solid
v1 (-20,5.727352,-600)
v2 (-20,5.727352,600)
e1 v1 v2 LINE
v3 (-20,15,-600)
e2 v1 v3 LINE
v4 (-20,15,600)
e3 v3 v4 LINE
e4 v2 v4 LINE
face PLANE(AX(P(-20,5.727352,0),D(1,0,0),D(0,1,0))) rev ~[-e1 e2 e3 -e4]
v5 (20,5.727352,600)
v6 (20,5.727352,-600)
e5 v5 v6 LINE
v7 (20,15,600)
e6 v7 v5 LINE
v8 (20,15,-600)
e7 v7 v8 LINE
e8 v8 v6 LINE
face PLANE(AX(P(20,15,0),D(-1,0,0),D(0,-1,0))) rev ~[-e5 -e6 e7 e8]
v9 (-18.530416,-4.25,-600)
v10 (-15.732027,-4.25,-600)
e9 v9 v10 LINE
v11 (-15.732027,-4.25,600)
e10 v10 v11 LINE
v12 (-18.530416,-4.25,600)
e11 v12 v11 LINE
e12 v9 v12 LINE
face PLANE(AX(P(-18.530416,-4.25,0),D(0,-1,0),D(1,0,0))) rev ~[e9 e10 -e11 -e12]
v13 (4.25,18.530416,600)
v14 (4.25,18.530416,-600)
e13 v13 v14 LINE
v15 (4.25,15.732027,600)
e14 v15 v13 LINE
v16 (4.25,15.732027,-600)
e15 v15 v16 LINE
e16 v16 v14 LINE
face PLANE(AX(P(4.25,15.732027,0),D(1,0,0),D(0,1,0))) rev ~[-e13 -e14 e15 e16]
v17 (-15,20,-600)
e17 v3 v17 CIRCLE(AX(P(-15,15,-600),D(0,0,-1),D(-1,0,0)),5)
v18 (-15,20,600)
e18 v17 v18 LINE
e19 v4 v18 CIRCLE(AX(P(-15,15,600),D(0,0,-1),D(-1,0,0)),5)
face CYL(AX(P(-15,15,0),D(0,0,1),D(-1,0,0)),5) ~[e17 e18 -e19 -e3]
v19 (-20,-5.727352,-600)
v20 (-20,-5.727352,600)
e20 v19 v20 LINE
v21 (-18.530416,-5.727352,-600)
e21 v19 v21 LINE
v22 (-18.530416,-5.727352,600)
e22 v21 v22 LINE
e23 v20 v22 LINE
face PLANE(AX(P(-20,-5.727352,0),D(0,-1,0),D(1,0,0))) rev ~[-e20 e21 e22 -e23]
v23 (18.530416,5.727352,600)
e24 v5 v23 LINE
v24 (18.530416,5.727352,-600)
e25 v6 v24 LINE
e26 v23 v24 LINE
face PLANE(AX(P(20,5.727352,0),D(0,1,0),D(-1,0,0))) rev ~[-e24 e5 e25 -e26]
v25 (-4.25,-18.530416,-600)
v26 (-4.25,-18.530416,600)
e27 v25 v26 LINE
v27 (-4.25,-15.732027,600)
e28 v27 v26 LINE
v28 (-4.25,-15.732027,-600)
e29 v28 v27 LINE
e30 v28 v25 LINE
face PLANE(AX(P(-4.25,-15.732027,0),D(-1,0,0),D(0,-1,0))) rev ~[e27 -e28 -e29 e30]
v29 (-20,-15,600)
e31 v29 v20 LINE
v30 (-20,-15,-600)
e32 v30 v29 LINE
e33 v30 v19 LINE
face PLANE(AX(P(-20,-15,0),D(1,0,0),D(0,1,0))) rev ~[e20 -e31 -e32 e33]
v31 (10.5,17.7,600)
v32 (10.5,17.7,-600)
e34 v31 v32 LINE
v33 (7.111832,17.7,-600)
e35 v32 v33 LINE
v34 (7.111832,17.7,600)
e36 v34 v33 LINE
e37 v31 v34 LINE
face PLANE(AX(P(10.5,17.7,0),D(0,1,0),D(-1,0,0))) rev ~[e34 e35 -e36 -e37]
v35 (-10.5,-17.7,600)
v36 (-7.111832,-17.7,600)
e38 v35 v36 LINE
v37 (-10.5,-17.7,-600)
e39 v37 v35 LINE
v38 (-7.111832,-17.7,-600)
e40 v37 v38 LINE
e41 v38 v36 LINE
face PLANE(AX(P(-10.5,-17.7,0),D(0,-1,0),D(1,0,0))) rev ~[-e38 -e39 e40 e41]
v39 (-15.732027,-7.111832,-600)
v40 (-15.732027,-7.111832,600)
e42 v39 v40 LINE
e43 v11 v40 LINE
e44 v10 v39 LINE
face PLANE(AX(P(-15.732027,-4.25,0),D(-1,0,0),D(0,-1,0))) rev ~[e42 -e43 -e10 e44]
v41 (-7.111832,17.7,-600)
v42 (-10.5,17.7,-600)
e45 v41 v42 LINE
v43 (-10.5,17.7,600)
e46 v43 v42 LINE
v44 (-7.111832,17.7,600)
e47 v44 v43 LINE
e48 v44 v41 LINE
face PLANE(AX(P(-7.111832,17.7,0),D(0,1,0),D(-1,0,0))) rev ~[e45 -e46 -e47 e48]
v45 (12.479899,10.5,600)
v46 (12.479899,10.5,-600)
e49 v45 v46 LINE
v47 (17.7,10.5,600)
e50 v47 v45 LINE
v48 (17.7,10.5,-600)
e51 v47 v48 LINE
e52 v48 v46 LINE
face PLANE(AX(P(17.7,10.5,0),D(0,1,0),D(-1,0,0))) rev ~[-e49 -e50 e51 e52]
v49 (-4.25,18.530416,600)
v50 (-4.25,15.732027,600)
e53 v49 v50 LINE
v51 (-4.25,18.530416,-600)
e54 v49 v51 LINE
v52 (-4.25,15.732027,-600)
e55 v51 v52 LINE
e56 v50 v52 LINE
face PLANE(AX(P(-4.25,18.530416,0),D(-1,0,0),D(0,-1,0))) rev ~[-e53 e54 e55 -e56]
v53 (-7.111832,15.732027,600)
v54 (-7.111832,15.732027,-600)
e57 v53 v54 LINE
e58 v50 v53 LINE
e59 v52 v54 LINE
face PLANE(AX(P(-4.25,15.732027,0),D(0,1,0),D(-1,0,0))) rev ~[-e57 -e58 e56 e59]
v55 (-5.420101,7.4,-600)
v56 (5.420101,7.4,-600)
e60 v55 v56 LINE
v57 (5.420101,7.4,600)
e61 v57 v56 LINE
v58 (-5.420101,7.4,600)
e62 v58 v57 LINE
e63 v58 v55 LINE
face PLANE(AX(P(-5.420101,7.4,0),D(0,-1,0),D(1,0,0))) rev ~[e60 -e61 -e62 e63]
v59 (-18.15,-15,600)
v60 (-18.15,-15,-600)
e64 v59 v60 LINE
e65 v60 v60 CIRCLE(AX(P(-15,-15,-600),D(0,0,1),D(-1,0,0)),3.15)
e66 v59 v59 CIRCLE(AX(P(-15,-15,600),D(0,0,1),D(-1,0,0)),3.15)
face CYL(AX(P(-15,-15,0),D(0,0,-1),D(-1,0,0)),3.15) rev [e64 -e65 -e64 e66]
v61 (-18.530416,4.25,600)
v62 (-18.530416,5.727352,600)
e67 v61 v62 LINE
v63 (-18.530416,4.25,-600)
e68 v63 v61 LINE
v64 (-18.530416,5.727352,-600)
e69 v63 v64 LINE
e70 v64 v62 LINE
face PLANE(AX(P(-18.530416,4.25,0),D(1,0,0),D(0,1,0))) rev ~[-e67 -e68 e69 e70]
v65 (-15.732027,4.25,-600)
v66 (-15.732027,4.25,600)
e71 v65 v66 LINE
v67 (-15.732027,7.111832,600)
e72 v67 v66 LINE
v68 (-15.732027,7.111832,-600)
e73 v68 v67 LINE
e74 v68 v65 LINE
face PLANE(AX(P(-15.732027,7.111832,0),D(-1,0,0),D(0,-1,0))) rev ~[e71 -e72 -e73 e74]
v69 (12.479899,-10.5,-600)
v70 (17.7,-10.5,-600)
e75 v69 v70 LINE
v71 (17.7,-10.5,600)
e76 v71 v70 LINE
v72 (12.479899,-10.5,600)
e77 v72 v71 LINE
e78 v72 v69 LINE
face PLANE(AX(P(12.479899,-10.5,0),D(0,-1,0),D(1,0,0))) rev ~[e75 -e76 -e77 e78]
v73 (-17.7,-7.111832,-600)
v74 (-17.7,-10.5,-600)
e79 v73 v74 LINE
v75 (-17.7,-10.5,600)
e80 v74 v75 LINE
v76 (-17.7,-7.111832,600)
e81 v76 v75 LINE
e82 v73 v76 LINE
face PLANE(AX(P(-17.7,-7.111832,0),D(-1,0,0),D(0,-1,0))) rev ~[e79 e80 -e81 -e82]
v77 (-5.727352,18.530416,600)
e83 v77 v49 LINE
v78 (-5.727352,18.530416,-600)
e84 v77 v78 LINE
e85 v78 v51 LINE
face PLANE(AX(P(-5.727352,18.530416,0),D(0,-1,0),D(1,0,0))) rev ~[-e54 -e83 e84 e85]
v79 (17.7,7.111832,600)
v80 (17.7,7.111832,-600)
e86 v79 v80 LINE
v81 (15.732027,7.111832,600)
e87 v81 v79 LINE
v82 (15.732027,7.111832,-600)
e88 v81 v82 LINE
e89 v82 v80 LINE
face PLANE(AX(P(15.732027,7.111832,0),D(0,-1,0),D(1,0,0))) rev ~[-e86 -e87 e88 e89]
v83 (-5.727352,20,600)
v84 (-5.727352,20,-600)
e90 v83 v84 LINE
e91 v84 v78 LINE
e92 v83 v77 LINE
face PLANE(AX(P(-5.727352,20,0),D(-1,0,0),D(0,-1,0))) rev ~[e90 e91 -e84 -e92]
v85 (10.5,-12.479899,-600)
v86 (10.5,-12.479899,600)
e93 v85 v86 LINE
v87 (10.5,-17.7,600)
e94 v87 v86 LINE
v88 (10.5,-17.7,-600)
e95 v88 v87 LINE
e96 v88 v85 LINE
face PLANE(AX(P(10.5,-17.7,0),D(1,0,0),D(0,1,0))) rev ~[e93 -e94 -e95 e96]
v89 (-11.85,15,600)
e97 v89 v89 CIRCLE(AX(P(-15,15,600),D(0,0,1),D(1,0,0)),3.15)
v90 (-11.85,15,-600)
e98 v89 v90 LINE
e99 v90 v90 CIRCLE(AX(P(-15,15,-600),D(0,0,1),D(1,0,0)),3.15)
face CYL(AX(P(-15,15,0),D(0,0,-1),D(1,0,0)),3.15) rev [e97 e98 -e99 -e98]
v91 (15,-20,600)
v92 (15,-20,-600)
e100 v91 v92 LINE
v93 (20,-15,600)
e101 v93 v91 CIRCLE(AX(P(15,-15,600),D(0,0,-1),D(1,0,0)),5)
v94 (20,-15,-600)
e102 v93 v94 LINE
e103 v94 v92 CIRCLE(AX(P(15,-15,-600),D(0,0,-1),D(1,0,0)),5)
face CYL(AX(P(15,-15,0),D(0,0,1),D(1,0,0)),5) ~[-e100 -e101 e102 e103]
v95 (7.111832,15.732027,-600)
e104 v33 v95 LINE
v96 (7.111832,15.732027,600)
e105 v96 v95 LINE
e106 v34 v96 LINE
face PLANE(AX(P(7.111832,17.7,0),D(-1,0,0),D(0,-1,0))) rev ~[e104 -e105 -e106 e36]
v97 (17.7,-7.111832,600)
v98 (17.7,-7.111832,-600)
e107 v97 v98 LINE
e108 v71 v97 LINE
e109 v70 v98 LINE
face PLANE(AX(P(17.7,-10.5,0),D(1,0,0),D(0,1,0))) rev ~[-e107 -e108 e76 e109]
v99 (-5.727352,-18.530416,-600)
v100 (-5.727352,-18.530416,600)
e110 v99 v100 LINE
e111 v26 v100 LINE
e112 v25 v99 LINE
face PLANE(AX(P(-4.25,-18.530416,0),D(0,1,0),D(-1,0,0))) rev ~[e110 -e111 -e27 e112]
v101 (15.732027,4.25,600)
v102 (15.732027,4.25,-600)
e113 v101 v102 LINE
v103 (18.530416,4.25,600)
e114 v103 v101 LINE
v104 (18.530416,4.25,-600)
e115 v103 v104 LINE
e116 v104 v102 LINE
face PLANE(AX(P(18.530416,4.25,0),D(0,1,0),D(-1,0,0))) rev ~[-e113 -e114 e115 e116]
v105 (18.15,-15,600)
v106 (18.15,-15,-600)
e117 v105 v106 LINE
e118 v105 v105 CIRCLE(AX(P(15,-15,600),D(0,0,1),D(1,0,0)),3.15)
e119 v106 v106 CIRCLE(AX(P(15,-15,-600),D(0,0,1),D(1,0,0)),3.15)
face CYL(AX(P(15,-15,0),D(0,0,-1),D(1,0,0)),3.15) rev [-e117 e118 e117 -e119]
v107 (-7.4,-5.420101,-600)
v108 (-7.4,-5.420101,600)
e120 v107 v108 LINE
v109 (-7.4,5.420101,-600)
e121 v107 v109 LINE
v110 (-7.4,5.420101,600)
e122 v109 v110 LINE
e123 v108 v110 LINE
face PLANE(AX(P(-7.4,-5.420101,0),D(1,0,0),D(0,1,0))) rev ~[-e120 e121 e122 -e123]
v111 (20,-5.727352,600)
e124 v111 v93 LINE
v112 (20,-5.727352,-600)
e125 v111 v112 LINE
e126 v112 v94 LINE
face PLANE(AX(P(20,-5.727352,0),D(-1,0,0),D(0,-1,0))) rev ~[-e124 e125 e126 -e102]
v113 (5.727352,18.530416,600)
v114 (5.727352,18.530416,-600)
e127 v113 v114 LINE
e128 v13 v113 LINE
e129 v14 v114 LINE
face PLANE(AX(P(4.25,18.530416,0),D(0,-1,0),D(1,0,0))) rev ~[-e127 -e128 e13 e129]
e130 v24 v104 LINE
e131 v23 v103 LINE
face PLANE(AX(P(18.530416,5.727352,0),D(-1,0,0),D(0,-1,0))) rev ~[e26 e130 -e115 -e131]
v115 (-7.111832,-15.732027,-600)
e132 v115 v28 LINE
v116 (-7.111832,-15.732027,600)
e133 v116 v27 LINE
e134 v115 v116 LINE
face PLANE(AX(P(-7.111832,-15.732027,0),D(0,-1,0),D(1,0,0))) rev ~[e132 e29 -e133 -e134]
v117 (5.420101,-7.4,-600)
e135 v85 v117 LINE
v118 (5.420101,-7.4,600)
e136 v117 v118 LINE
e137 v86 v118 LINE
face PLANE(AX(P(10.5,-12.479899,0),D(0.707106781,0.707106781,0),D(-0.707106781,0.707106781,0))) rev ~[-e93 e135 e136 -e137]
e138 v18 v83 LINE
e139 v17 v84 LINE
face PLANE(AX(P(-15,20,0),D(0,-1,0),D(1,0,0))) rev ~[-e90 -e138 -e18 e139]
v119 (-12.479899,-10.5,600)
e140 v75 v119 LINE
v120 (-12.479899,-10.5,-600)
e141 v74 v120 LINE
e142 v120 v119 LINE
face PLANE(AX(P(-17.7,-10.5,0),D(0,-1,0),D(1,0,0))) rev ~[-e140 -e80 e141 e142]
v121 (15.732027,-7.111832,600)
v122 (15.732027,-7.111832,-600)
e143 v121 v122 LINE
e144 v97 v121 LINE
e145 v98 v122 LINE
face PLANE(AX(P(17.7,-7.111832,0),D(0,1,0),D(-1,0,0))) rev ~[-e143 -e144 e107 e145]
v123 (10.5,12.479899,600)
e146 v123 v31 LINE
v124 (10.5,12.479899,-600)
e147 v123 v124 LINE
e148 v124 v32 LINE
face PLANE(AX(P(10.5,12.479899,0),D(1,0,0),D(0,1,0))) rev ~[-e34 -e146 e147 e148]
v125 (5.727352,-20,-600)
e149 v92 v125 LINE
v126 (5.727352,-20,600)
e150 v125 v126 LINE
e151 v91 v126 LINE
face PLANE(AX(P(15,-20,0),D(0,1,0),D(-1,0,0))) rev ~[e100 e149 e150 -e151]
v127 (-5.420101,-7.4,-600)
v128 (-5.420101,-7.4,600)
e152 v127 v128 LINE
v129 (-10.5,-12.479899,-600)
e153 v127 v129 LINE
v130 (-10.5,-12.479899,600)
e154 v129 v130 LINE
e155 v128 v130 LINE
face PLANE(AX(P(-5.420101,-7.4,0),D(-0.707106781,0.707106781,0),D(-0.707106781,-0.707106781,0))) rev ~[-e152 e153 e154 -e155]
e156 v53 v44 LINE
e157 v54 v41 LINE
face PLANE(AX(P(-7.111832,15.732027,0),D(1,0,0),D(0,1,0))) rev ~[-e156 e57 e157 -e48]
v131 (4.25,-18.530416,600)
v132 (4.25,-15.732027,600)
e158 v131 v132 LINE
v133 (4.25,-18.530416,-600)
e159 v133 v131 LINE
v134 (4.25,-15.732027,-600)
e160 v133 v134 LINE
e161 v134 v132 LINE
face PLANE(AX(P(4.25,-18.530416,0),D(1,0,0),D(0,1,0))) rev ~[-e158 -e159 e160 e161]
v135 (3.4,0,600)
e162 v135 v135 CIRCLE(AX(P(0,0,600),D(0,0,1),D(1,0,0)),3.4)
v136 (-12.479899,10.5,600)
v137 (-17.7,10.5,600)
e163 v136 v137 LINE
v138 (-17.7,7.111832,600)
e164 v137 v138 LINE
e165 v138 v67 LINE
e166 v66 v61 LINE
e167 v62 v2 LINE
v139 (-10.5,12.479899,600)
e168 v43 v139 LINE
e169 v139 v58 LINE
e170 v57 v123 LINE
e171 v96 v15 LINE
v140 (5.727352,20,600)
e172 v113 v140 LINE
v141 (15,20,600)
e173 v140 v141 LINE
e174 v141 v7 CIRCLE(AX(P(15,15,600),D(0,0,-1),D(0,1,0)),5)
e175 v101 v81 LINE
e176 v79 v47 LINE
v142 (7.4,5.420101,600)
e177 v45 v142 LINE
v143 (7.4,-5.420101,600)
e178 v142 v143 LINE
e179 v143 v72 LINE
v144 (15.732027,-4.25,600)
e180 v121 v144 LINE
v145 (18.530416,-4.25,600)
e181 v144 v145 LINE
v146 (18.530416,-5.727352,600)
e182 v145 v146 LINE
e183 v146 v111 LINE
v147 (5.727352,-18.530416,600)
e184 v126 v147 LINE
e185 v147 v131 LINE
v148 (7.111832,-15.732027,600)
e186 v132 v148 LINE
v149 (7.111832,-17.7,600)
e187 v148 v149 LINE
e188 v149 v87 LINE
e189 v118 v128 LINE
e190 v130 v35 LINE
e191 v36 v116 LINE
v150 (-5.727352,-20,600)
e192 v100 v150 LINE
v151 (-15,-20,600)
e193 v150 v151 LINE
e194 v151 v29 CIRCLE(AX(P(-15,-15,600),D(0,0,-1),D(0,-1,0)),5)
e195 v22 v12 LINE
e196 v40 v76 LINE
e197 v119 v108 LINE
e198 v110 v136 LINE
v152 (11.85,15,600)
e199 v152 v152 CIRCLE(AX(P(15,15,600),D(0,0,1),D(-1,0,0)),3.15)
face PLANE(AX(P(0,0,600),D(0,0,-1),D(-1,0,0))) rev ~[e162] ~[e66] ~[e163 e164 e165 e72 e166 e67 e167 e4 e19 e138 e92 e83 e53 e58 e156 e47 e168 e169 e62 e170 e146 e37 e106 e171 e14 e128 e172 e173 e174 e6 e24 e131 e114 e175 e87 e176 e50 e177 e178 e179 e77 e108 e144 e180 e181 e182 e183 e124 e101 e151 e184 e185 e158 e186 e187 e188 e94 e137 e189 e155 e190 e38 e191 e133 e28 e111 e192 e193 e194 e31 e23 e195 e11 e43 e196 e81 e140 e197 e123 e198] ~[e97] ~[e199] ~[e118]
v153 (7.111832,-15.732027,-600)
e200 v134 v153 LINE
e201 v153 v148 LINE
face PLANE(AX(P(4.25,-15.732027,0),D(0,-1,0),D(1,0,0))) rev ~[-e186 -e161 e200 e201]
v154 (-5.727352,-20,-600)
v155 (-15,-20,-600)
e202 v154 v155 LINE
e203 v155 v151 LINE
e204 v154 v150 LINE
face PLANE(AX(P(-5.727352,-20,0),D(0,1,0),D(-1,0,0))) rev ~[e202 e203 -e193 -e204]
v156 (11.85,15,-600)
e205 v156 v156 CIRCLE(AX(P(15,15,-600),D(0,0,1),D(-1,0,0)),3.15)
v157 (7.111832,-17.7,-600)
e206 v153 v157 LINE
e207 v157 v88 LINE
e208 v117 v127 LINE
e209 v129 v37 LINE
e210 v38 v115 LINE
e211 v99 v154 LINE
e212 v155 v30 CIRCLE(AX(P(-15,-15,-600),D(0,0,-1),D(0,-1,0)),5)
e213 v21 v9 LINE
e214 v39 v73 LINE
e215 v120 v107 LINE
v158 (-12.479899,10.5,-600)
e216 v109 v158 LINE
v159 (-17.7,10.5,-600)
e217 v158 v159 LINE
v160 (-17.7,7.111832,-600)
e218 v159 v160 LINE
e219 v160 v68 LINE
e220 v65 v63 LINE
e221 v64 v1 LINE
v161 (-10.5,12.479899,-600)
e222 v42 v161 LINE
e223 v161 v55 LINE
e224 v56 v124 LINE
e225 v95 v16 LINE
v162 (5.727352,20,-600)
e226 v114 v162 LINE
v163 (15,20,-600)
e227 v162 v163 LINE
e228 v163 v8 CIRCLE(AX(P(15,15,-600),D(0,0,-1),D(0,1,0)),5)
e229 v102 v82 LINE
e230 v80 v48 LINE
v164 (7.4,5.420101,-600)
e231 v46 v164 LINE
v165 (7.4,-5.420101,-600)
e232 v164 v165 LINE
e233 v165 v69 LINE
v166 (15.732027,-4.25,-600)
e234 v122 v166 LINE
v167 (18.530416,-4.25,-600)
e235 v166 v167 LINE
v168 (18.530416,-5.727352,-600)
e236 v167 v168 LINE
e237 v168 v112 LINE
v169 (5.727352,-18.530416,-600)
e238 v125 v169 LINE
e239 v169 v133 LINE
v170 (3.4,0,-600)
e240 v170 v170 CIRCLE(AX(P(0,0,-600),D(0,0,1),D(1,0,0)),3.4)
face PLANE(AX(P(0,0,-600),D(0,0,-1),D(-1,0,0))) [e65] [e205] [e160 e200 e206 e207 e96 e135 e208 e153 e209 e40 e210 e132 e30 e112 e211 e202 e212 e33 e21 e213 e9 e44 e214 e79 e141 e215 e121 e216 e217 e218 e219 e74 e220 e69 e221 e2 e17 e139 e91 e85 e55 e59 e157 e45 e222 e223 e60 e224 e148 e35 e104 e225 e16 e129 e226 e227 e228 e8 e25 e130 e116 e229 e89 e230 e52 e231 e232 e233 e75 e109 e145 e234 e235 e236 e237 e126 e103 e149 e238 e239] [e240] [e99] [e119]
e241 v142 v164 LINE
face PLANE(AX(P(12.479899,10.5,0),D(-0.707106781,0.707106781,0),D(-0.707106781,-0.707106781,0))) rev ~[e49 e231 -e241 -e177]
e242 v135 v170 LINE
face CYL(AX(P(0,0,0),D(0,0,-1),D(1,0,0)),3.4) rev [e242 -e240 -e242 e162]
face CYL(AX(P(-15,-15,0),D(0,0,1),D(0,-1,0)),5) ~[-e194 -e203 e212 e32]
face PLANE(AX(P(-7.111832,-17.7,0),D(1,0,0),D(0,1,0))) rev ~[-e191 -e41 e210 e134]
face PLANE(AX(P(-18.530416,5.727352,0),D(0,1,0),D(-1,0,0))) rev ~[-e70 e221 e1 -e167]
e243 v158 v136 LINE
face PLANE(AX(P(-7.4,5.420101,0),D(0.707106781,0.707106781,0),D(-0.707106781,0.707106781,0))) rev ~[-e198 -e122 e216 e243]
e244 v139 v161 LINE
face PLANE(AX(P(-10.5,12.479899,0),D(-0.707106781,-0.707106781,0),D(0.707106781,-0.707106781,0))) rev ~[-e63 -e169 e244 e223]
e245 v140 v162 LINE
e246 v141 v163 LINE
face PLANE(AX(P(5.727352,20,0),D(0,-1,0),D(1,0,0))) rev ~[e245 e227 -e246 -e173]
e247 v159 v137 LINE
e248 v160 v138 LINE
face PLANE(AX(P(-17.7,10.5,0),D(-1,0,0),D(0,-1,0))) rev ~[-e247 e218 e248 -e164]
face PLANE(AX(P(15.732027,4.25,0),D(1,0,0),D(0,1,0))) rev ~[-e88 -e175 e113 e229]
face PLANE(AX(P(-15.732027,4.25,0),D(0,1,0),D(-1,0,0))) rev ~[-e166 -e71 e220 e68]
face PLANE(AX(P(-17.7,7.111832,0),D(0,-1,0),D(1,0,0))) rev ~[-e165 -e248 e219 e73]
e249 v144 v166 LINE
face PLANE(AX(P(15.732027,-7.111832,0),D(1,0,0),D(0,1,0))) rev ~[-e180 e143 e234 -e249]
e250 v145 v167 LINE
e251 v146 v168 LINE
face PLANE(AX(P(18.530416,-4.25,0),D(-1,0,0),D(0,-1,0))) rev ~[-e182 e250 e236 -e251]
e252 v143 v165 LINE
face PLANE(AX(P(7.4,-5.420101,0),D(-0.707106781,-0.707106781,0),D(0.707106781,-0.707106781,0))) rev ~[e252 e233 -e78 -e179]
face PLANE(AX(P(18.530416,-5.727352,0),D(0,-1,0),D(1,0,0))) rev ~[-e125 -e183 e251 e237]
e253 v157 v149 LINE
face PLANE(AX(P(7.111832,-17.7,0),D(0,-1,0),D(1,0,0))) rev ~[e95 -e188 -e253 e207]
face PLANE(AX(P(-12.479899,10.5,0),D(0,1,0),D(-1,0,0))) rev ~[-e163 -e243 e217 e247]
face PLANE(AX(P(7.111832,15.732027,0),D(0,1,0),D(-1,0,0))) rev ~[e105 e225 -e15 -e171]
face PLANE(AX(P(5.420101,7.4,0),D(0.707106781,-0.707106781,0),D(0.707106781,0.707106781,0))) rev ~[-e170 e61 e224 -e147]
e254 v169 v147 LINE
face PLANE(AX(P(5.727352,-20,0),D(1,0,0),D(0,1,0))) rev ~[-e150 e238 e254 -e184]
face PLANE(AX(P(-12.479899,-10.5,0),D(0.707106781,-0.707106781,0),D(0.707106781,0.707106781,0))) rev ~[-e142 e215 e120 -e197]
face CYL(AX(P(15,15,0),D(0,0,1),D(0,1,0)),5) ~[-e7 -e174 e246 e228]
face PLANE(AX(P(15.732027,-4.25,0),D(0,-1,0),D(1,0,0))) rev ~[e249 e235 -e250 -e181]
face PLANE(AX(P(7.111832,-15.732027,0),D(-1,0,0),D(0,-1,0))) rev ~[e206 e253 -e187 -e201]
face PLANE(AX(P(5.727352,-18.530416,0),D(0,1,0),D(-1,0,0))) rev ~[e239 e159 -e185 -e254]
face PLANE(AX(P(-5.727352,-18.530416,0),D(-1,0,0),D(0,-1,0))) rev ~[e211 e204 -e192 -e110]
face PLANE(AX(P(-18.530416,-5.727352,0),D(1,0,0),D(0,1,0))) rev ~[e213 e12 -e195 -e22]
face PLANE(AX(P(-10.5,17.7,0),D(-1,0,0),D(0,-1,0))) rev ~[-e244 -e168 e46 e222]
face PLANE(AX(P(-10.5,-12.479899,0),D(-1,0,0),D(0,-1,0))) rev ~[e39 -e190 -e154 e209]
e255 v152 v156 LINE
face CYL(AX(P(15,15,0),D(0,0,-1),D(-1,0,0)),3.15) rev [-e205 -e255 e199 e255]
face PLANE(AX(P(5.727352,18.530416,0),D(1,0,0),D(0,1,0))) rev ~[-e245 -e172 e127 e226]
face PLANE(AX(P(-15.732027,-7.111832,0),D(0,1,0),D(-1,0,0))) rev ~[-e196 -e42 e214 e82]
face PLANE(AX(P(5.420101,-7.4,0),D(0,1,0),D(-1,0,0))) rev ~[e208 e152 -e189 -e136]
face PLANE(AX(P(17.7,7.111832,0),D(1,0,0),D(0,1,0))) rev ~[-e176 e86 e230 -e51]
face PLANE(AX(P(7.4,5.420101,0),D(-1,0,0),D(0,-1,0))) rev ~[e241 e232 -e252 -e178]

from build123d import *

# Parameters (mm, degrees)
SKETCH_1_R      = 3.4
SKETCH_1_R_2    = 3.15
EXTRUDE_1_DEPTH = 600


with BuildPart() as part:
    # Эскиз1 → Бобышка-Вытянуть1 (new, symmetric)
    with BuildSketch(Plane.XY):
        with BuildLine():
            Line((-15, 20), (-5.727351849, 20))
            Line((-5.727351849, 20), (-5.727351849, 18.530416438))
            Line((-5.727351849, 18.530416438), (-4.25, 18.530416438))
            Line((-4.25, 18.530416438), (-4.25, 15.732027397))
            Line((-4.25, 15.732027397), (-7.111831817, 15.732027397))
            Line((-7.111831817, 15.732027397), (-7.111831817, 17.7))
            Line((-7.111831817, 17.7), (-10.5, 17.7))
            Line((-10.5, 17.7), (-10.5, 12.479898987))
            Line((-10.5, 12.479898987), (-5.420101013, 7.4))
            Line((-5.420101013, 7.4), (5.420101013, 7.4))
            Line((5.420101013, 7.4), (10.5, 12.479898987))
            Line((10.5, 12.479898987), (10.5, 17.7))
            Line((10.5, 17.7), (7.111831817, 17.7))
            Line((7.111831817, 17.7), (7.111831817, 15.732027397))
            Line((7.111831817, 15.732027397), (4.25, 15.732027397))
            Line((4.25, 15.732027397), (4.25, 18.530416438))
            Line((4.25, 18.530416438), (5.727351849, 18.530416438))
            Line((5.727351849, 18.530416438), (5.727351849, 20))
            Line((5.727351849, 20), (15, 20))
            ThreePointArc((15, 20), (18.535533906, 18.535533906), (20, 15))
            Line((20, 15), (20, 5.727351849))
            Line((20, 5.727351849), (18.530416438, 5.727351849))
            Line((18.530416438, 5.727351849), (18.530416438, 4.25))
            Line((18.530416438, 4.25), (15.732027397, 4.25))
            Line((15.732027397, 4.25), (15.732027397, 7.111831817))
            Line((15.732027397, 7.111831817), (17.7, 7.111831817))
            Line((17.7, 7.111831817), (17.7, 10.5))
            Line((17.7, 10.5), (12.479898987, 10.5))
            Line((12.479898987, 10.5), (7.4, 5.420101013))
            Line((7.4, 5.420101013), (7.4, -5.420101013))
            Line((7.4, -5.420101013), (12.479898987, -10.5))
            Line((12.479898987, -10.5), (17.7, -10.5))
            Line((17.7, -10.5), (17.7, -7.111831817))
            Line((17.7, -7.111831817), (15.732027397, -7.111831817))
            Line((15.732027397, -7.111831817), (15.732027397, -4.25))
            Line((15.732027397, -4.25), (18.530416438, -4.25))
            Line((18.530416438, -4.25), (18.530416438, -5.727351849))
            Line((18.530416438, -5.727351849), (20, -5.727351849))
            Line((20, -5.727351849), (20, -15))
            ThreePointArc((20, -15), (18.535533906, -18.535533906), (15, -20))
            Line((15, -20), (5.727351849, -20))
            Line((5.727351849, -20), (5.727351849, -18.530416438))
            Line((5.727351849, -18.530416438), (4.25, -18.530416438))
            Line((4.25, -18.530416438), (4.25, -15.732027397))
            Line((4.25, -15.732027397), (7.111831817, -15.732027397))
            Line((7.111831817, -15.732027397), (7.111831817, -17.7))
            Line((7.111831817, -17.7), (10.5, -17.7))
            Line((10.5, -17.7), (10.5, -12.479898987))
            Line((10.5, -12.479898987), (5.420101013, -7.4))
            Line((5.420101013, -7.4), (-5.420101013, -7.4))
            Line((-5.420101013, -7.4), (-10.5, -12.479898987))
            Line((-10.5, -12.479898987), (-10.5, -17.7))
            Line((-10.5, -17.7), (-7.111831817, -17.7))
            Line((-7.111831817, -17.7), (-7.111831817, -15.732027397))
            Line((-7.111831817, -15.732027397), (-4.25, -15.732027397))
            Line((-4.25, -15.732027397), (-4.25, -18.530416438))
            Line((-4.25, -18.530416438), (-5.727351849, -18.530416438))
            Line((-5.727351849, -18.530416438), (-5.727351849, -20))
            Line((-5.727351849, -20), (-15, -20))
            ThreePointArc((-15, -20), (-18.535533906, -18.535533906), (-20, -15))
            Line((-20, -15), (-20, -5.727351849))
            Line((-20, -5.727351849), (-18.530416438, -5.727351849))
            Line((-18.530416438, -5.727351849), (-18.530416438, -4.25))
            Line((-18.530416438, -4.25), (-15.732027397, -4.25))
            Line((-15.732027397, -4.25), (-15.732027397, -7.111831817))
            Line((-15.732027397, -7.111831817), (-17.7, -7.111831817))
            Line((-17.7, -7.111831817), (-17.7, -10.5))
            Line((-17.7, -10.5), (-12.479898987, -10.5))
            Line((-12.479898987, -10.5), (-7.4, -5.420101013))
            Line((-7.4, -5.420101013), (-7.4, 5.420101013))
            Line((-7.4, 5.420101013), (-12.479898987, 10.5))
            Line((-12.479898987, 10.5), (-17.7, 10.5))
            Line((-17.7, 10.5), (-17.7, 7.111831817))
            Line((-17.7, 7.111831817), (-15.732027397, 7.111831817))
            Line((-15.732027397, 7.111831817), (-15.732027397, 4.25))
            Line((-15.732027397, 4.25), (-18.530416438, 4.25))
            Line((-18.530416438, 4.25), (-18.530416438, 5.727351849))
            Line((-18.530416438, 5.727351849), (-20, 5.727351849))
            Line((-20, 5.727351849), (-20, 15))
            ThreePointArc((-20, 15), (-18.535533906, 18.535533906), (-15, 20))
        make_face()
        Circle(SKETCH_1_R, mode=Mode.SUBTRACT)
        with Locations((-15, 15)):
            Circle(SKETCH_1_R_2, mode=Mode.SUBTRACT)
        with Locations((15, 15)):
            Circle(SKETCH_1_R_2, mode=Mode.SUBTRACT)
        with Locations((15, -15)):
            Circle(SKETCH_1_R_2, mode=Mode.SUBTRACT)
        with Locations((-15, -15)):
            Circle(SKETCH_1_R_2, mode=Mode.SUBTRACT)
    extrude(amount=EXTRUDE_1_DEPTH, both=True)


solid = part.part
